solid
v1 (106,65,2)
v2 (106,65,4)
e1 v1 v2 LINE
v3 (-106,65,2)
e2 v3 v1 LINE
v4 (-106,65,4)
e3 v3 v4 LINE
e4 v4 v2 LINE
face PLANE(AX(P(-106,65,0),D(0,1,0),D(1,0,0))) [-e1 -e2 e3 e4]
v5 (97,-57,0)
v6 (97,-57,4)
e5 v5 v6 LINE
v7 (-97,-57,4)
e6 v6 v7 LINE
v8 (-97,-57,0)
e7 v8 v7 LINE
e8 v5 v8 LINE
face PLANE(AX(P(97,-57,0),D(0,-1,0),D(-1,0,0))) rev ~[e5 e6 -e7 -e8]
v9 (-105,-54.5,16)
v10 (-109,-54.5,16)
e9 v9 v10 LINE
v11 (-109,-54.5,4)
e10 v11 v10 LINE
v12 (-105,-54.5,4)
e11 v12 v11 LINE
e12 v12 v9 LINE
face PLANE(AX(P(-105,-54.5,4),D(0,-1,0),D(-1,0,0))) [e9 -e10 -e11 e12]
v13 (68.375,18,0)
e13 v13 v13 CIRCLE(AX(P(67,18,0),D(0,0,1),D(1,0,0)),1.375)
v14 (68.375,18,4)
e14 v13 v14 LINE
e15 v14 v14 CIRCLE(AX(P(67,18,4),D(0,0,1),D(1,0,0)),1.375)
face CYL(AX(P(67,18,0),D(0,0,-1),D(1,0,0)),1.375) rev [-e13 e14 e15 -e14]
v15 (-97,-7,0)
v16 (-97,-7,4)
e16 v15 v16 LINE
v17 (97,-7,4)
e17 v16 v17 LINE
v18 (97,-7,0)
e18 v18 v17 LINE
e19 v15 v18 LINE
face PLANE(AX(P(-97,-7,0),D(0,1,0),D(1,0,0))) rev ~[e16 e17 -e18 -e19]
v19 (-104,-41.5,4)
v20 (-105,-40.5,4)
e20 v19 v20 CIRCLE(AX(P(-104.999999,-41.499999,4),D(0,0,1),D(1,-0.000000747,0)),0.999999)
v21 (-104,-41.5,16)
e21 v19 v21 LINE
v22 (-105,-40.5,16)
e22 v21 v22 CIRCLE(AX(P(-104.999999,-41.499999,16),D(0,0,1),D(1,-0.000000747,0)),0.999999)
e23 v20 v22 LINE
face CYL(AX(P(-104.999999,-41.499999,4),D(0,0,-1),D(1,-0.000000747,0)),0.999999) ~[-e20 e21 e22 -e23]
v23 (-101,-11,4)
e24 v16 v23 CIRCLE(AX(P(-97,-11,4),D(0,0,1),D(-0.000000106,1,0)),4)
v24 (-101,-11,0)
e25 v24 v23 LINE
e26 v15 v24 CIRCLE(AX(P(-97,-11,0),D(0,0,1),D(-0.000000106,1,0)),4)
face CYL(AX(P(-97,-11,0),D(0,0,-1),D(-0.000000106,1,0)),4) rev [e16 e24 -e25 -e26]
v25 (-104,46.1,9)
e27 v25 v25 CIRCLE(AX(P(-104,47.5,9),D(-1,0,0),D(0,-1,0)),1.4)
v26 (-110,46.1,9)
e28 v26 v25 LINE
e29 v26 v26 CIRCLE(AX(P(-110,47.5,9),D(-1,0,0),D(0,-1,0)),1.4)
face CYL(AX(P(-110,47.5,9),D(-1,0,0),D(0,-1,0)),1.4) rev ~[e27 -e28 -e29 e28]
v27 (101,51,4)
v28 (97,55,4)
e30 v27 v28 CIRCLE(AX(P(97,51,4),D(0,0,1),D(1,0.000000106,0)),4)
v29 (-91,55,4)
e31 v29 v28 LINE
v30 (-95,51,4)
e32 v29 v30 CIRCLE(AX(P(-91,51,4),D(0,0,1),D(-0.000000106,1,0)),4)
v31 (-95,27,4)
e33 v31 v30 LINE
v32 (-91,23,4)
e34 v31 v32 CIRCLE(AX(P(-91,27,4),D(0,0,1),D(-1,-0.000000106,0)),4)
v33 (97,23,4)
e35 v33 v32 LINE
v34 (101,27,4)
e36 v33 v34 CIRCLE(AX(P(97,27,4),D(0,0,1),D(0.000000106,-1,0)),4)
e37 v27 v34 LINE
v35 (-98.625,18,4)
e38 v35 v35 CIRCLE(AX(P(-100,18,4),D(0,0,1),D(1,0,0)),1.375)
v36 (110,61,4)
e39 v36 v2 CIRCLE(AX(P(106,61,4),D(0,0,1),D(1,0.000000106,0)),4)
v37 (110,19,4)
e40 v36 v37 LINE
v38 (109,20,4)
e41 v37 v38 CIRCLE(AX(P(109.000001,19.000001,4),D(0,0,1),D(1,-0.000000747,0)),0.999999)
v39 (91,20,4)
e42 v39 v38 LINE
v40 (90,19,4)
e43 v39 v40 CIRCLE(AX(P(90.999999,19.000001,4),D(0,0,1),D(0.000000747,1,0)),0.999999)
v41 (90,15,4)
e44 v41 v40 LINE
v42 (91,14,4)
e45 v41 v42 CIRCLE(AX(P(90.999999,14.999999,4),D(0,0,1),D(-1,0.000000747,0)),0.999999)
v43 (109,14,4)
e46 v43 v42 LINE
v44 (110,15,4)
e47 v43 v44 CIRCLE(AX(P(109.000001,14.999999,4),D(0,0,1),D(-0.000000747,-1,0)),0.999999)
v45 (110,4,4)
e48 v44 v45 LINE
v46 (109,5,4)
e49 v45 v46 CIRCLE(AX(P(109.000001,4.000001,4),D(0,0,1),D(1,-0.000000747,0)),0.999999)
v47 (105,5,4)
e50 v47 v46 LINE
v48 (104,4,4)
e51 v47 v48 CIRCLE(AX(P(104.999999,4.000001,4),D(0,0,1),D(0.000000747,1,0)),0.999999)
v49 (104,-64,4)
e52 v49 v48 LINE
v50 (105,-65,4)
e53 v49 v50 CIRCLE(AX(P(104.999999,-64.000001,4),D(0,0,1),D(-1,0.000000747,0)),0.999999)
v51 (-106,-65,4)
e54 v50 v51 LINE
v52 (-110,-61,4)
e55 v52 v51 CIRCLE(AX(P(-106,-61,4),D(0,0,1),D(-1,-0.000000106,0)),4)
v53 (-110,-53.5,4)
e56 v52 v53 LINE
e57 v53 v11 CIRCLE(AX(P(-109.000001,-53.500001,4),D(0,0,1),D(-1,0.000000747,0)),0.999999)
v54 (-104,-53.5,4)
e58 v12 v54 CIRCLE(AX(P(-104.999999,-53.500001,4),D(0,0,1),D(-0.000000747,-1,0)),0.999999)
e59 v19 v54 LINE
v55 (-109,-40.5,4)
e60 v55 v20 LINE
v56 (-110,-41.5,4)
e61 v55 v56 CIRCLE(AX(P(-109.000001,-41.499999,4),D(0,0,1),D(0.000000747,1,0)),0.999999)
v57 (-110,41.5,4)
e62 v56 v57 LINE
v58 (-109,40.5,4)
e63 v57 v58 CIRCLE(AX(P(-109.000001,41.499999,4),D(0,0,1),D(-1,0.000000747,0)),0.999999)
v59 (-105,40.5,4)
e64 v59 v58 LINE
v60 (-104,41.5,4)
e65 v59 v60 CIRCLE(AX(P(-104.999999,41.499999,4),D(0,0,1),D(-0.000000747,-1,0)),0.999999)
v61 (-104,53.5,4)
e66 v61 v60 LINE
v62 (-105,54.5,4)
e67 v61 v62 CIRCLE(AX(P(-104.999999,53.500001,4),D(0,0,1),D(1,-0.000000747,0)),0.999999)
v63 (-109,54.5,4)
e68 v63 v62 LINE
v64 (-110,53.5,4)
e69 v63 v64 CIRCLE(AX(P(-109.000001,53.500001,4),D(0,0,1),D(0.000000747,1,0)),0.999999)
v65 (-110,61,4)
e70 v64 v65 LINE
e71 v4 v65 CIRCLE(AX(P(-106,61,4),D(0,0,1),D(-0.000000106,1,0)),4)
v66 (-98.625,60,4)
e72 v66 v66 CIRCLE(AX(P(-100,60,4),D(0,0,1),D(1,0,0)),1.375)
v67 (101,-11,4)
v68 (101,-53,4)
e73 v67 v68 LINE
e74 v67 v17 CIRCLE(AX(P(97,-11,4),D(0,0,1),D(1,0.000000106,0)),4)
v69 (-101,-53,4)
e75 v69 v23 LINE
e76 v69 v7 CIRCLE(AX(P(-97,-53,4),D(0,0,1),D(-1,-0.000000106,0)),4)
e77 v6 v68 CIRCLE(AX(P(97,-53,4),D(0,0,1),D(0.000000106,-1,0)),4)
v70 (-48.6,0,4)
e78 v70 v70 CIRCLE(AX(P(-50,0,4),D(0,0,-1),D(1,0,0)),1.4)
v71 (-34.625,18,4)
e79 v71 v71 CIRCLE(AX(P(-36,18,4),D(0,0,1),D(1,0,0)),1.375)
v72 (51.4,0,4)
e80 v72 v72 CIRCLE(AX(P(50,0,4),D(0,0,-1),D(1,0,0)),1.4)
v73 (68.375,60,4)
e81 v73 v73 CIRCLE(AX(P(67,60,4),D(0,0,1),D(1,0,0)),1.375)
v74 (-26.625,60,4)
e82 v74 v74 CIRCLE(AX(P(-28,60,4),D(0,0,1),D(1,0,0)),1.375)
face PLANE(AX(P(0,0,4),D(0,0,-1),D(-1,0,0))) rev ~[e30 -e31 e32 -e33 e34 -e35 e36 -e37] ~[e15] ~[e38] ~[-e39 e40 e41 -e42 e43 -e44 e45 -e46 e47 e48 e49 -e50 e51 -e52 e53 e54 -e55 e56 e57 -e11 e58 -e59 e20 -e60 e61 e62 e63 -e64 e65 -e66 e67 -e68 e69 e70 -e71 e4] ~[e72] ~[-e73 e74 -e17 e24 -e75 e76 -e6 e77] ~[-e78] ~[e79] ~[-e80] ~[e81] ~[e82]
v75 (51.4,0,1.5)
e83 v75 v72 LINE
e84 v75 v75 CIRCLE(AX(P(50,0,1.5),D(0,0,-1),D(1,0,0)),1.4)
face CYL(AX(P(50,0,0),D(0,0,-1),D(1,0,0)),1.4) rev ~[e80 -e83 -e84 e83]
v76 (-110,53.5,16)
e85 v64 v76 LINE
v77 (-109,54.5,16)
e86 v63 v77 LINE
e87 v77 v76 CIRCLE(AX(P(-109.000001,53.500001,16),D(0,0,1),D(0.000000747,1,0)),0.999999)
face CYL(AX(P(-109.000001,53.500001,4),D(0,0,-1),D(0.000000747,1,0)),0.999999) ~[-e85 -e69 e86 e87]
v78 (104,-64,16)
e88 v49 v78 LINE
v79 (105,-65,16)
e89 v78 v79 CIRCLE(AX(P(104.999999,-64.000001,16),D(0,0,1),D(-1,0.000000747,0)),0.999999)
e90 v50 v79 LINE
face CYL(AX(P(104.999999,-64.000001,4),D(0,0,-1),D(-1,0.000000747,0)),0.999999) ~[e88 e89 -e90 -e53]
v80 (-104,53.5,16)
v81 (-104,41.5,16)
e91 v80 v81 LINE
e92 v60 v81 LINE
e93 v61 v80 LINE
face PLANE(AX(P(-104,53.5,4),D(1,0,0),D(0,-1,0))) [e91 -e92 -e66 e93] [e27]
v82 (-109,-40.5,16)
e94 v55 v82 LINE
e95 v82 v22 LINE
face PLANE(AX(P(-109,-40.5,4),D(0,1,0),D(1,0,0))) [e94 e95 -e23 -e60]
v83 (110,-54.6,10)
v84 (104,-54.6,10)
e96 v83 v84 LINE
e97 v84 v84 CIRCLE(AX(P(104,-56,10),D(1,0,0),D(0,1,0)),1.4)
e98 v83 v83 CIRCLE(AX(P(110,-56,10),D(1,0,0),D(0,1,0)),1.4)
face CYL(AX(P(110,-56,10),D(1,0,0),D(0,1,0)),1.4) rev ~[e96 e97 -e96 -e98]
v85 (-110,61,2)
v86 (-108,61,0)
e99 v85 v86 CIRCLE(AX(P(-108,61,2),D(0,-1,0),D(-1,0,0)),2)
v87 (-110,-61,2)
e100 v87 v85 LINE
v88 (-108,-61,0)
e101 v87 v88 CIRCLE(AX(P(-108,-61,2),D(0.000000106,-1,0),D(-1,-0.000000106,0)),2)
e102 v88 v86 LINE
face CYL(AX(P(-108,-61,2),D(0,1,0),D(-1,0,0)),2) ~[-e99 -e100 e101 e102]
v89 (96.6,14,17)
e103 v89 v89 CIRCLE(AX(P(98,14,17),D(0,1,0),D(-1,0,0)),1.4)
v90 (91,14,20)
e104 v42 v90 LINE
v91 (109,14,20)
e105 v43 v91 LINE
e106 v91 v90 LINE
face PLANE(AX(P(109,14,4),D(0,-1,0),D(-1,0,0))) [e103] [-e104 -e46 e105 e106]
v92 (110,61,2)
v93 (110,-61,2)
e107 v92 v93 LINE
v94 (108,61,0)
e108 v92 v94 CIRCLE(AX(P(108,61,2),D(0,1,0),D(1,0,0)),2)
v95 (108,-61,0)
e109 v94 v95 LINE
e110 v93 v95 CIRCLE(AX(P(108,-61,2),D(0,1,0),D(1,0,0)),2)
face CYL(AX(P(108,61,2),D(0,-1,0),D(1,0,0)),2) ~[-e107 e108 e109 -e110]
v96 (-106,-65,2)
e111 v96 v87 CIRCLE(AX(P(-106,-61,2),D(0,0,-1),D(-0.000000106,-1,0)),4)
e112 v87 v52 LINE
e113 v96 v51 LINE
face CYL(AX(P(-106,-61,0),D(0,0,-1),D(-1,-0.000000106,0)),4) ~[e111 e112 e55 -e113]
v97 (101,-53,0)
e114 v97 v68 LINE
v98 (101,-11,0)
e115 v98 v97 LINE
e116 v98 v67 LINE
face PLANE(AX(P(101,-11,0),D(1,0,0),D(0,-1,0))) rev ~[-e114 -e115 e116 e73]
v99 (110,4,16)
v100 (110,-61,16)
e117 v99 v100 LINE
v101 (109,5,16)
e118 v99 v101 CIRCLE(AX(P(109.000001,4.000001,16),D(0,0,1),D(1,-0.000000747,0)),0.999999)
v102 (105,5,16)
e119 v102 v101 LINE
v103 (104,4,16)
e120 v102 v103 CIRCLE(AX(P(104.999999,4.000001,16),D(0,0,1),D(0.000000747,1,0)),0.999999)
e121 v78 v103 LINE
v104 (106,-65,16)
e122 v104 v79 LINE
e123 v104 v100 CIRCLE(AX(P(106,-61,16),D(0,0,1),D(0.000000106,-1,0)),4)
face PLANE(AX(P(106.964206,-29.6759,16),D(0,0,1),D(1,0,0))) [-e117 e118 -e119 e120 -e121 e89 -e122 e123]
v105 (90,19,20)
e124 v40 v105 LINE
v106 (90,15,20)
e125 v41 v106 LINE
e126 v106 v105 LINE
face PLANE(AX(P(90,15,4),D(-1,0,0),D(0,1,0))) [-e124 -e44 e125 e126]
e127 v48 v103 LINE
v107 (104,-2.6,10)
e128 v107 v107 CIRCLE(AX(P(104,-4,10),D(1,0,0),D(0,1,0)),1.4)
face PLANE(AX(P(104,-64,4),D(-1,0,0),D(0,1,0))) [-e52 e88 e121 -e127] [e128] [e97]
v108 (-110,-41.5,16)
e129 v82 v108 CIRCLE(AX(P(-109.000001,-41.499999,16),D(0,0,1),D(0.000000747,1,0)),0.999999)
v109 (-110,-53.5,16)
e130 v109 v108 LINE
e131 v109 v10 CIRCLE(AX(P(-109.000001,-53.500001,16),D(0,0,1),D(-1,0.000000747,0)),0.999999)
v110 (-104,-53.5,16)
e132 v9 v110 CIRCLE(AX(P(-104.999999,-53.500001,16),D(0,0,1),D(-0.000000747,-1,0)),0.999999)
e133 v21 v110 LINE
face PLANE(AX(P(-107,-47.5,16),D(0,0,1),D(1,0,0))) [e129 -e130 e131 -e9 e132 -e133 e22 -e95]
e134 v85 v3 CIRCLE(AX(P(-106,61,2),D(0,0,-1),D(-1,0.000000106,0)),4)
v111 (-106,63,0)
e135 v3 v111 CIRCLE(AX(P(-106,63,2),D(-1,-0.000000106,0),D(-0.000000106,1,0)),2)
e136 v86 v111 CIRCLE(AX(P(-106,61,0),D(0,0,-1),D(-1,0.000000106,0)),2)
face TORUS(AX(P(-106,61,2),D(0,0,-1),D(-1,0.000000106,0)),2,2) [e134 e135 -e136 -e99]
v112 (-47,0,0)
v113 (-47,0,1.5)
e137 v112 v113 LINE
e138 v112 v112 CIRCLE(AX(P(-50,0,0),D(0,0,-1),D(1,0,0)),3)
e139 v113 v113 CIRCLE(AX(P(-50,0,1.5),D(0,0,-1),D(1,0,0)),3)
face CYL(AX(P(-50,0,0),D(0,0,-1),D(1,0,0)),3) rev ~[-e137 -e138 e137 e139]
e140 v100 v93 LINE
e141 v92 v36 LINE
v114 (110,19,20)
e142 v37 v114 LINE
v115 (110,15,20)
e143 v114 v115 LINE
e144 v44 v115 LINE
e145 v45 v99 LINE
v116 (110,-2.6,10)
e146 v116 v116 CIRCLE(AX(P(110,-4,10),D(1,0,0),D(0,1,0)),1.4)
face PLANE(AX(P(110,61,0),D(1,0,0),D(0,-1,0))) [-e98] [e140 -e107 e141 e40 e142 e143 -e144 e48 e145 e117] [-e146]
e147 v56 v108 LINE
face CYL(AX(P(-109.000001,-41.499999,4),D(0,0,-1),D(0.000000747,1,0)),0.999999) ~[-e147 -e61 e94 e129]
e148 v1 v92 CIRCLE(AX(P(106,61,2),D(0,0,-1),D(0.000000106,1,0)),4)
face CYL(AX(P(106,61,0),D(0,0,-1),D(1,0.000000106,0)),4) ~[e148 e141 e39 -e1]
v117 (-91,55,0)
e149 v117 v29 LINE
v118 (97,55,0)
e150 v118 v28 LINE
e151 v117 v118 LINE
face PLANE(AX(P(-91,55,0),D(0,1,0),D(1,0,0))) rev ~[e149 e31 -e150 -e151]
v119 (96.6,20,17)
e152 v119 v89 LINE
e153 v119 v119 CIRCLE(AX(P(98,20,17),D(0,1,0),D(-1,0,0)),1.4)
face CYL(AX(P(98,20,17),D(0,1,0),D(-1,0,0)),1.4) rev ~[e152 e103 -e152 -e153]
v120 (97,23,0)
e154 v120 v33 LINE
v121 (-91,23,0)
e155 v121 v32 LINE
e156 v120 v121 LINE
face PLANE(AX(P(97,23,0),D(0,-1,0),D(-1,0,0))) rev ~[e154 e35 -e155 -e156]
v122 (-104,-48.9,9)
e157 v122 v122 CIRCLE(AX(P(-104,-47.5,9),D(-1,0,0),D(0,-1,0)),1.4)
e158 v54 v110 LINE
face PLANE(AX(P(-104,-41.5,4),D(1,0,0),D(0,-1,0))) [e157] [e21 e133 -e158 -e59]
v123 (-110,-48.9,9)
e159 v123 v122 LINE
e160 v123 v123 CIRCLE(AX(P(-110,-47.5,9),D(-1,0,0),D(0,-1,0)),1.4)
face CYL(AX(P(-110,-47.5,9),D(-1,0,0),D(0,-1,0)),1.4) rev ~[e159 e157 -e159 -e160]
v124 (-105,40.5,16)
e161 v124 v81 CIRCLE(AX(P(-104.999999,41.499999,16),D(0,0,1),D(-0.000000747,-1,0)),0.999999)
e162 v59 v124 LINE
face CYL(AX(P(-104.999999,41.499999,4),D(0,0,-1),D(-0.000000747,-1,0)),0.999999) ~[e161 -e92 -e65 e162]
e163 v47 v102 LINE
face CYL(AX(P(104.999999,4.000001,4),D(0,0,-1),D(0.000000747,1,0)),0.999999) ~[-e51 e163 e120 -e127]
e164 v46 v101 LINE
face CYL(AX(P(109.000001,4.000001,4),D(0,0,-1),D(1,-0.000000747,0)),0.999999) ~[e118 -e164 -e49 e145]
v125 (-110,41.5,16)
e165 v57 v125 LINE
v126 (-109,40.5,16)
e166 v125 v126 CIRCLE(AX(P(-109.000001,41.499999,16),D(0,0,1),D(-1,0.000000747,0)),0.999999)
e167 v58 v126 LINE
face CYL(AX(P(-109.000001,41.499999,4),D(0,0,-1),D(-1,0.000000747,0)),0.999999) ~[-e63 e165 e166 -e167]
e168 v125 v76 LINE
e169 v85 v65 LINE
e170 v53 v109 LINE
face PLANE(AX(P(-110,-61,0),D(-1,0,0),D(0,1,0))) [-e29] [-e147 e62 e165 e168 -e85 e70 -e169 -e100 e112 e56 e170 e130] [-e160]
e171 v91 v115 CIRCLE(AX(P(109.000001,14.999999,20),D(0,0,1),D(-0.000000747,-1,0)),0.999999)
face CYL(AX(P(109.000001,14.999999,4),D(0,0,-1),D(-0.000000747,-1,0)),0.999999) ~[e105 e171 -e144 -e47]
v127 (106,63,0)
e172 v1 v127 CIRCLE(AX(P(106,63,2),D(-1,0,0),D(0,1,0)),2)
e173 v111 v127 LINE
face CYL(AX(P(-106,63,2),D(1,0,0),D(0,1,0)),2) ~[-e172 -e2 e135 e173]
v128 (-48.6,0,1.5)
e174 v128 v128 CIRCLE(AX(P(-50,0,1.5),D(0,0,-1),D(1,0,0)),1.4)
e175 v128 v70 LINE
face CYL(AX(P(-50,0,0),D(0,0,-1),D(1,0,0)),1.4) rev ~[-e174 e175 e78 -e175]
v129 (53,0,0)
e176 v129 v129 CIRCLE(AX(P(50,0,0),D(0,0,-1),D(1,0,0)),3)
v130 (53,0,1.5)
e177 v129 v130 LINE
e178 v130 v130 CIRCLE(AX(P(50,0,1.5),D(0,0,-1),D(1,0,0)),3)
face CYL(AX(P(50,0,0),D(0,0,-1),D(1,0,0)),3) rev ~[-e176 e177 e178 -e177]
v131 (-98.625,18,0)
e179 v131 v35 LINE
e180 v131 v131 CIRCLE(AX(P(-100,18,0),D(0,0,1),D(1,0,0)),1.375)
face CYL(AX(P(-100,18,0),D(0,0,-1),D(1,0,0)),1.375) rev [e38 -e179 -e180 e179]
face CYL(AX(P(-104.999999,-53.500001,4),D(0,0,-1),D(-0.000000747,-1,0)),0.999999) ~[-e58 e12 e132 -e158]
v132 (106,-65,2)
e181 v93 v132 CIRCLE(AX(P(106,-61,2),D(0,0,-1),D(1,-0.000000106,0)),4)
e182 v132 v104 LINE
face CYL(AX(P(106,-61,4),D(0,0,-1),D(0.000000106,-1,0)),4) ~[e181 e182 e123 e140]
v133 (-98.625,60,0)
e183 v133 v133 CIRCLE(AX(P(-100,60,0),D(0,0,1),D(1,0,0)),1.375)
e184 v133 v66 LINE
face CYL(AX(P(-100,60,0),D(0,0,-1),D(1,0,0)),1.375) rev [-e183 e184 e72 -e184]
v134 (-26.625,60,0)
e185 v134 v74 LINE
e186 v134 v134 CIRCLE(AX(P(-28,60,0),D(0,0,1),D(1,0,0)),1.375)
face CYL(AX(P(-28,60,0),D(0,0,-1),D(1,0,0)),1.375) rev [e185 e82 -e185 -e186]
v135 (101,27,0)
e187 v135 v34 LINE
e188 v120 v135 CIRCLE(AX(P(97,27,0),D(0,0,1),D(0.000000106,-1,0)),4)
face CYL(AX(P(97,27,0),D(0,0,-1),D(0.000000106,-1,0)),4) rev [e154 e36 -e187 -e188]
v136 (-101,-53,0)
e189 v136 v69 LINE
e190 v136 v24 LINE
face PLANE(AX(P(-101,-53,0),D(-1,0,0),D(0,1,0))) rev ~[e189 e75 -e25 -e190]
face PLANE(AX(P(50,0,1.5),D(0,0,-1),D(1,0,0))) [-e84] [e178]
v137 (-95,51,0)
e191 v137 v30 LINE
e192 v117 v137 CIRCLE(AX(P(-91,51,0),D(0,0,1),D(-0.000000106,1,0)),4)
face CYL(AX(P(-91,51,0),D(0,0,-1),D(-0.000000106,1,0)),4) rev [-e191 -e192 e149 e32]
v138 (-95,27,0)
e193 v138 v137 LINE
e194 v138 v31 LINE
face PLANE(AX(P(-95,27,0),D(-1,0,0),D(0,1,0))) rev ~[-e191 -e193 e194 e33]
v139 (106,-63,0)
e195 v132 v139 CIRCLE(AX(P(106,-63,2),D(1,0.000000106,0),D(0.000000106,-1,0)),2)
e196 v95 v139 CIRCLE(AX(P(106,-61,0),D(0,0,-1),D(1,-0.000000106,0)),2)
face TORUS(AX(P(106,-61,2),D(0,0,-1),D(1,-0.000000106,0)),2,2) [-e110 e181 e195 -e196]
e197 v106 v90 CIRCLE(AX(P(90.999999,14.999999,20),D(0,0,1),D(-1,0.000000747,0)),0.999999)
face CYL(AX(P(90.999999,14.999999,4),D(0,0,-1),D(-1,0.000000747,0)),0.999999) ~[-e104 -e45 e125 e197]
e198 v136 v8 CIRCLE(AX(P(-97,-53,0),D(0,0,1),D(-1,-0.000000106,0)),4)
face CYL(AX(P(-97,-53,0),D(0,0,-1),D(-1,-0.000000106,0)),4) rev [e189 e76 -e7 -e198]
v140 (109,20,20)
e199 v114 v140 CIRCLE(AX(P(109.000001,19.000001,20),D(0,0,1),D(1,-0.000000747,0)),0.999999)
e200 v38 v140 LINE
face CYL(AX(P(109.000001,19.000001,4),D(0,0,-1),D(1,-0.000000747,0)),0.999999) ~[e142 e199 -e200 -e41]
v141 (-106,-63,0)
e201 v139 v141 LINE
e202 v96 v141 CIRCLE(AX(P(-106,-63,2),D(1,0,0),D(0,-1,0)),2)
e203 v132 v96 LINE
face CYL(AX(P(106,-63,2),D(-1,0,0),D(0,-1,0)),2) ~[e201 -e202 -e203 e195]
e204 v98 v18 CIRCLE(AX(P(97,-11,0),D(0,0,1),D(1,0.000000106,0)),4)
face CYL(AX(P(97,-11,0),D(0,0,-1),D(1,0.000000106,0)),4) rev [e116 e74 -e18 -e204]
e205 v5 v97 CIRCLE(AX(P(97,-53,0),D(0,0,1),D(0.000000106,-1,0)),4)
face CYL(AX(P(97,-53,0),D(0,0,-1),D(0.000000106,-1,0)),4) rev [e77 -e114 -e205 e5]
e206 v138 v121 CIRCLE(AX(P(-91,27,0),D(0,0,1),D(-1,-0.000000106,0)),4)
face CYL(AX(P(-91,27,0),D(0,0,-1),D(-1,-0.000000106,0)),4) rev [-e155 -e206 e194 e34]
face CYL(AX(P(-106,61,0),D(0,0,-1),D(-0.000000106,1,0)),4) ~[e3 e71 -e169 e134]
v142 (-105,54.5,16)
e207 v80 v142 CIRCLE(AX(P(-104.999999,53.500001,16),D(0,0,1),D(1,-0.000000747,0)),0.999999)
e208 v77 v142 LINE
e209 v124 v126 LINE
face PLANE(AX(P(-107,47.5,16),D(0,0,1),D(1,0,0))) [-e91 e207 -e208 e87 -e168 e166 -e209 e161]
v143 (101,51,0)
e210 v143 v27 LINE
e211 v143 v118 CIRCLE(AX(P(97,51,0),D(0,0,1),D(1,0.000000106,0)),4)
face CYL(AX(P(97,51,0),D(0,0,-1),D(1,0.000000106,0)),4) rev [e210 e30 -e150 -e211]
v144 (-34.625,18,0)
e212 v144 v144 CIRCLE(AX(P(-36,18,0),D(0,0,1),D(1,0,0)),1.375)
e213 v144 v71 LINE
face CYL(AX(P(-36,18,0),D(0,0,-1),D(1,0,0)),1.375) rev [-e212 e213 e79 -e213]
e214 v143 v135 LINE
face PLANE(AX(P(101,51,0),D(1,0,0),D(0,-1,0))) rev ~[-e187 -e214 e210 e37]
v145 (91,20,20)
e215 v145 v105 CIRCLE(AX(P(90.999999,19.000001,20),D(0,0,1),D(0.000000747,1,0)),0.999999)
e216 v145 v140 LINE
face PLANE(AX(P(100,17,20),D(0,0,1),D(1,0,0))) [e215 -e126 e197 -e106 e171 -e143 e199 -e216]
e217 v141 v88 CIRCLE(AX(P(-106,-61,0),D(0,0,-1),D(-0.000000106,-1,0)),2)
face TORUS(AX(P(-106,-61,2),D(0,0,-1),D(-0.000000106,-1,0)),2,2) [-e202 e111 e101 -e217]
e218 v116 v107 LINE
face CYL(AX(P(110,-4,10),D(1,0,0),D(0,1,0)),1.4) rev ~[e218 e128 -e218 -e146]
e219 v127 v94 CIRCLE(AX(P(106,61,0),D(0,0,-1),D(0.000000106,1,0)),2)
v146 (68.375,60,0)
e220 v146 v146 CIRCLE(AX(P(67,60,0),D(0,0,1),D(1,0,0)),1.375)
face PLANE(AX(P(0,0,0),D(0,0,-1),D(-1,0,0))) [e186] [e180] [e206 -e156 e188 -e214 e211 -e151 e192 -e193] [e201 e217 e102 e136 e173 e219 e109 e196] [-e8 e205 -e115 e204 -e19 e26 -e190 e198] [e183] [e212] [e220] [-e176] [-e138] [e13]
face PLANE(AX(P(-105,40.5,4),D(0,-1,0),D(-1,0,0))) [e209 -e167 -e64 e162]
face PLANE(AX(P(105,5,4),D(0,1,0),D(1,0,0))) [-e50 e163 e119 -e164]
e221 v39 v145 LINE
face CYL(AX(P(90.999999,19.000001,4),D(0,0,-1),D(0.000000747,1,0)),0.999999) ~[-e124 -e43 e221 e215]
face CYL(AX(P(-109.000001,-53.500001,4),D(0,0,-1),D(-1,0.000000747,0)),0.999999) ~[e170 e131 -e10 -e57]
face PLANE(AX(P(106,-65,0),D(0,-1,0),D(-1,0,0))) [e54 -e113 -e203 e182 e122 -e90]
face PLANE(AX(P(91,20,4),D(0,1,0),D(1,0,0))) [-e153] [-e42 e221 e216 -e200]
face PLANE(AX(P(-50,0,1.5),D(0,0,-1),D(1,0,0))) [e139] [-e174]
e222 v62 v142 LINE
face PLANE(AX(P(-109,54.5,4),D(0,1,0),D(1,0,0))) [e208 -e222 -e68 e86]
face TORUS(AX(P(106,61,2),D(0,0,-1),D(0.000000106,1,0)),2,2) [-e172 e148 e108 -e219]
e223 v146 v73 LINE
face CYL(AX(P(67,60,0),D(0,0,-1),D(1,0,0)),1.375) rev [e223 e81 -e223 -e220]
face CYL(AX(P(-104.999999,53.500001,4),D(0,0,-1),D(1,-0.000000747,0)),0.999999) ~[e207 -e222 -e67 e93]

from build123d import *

# Parameters (mm, degrees)
SKETCH_R        = 1.375
PAD_DEPTH       = 4
PAD001_DEPTH    = 12
SKETCH002_R     = 1.4
POCKET_DEPTH    = 8
SKETCH003_R     = 1.4
POCKET001_DEPTH = 8
FILLET_R        = 2
SKETCH004_R     = 3
POCKET002_DEPTH = 1.5
SKETCH005_R     = 1.4
POCKET003_DEPTH = 5
PAD002_DEPTH    = 16
SKETCH007_R     = 1.4
POCKET004_DEPTH = 8


with BuildPart() as part:
    # Sketch → Pad (new body)
    with BuildSketch(Plane.XY):
        with BuildLine():
            Line((-106, 65), (106, 65))
            ThreePointArc((110, 61), (108.828427, 63.828427), (106, 65))
            Line((110, 61), (110, -61))
            ThreePointArc((106, -65), (108.828427, -63.828427), (110, -61))
            Line((106, -65), (-106, -65))
            ThreePointArc((-110, -61), (-108.828427, -63.828427), (-106, -65))
            Line((-110, -61), (-110, 61))
            ThreePointArc((-106, 65), (-108.828427, 63.828427), (-110, 61))
        make_face()
        with Locations((-100, 60)):
            Circle(SKETCH_R, mode=Mode.SUBTRACT)
        with Locations((-28, 60)):
            Circle(SKETCH_R, mode=Mode.SUBTRACT)
        with Locations((67, 60)):
            Circle(SKETCH_R, mode=Mode.SUBTRACT)
        with Locations((67, 18)):
            Circle(SKETCH_R, mode=Mode.SUBTRACT)
        with Locations((-36, 18)):
            Circle(SKETCH_R, mode=Mode.SUBTRACT)
        with Locations((-100, 18)):
            Circle(SKETCH_R, mode=Mode.SUBTRACT)
        with BuildLine():
            ThreePointArc((-97, -7), (-99.828427, -8.171573), (-101, -11))
            Line((-101, -53), (-101, -11))
            ThreePointArc((-101, -53), (-99.828427, -55.828427), (-97, -57))
            Line((97, -57), (-97, -57))
            ThreePointArc((97, -57), (99.828427, -55.828427), (101, -53))
            Line((101, -11), (101, -53))
            ThreePointArc((101, -11), (99.828427, -8.171573), (97, -7))
            Line((-97, -7), (97, -7))
        make_face(mode=Mode.SUBTRACT)
        with BuildLine():
            ThreePointArc((-91, 55), (-93.828427, 53.828427), (-95, 51))
            Line((-95, 27), (-95, 51))
            ThreePointArc((-95, 27), (-93.828427, 24.171573), (-91, 23))
            Line((97, 23), (-91, 23))
            ThreePointArc((97, 23), (99.828427, 24.171573), (101, 27))
            Line((101, 51), (101, 27))
            ThreePointArc((101, 51), (99.828427, 53.828427), (97, 55))
            Line((-91, 55), (97, 55))
        make_face(mode=Mode.SUBTRACT)
    extrude(amount=PAD_DEPTH)

    # Sketch001 (on Face32 of Pad) → Pad001 (join)
    with BuildSketch(Plane.XY.offset(4)):
        with BuildLine():
            ThreePointArc((-109, 54.5), (-109.707107, 54.207107), (-110, 53.5))
            Line((-110, 41.5), (-110, 53.5))
            ThreePointArc((-110, 41.5), (-109.707107, 40.792893), (-109, 40.5))
            Line((-105, 40.5), (-109, 40.5))
            ThreePointArc((-105, 40.5), (-104.292893, 40.792893), (-104, 41.5))
            Line((-104, 53.5), (-104, 41.5))
            ThreePointArc((-104, 53.5), (-104.292893, 54.207107), (-105, 54.5))
            Line((-109, 54.5), (-105, 54.5))
        make_face()
        with BuildLine():
            ThreePointArc((-109, -40.5), (-109.707107, -40.792893), (-110, -41.5))
            Line((-110, -53.5), (-110, -41.5))
            ThreePointArc((-110, -53.5), (-109.707107, -54.207107), (-109, -54.5))
            Line((-105, -54.5), (-109, -54.5))
            ThreePointArc((-105, -54.5), (-104.292893, -54.207107), (-104, -53.5))
            Line((-104, -41.5), (-104, -53.5))
            ThreePointArc((-104, -41.5), (-104.292893, -40.792893), (-105, -40.5))
            Line((-109, -40.5), (-105, -40.5))
        make_face()
        with BuildLine():
            ThreePointArc((105, 5), (104.292893, 4.707107), (104, 4))
            Line((104, -64), (104, 4))
            ThreePointArc((104, -64), (104.292893, -64.707107), (105, -65))
            Line((106, -65), (105, -65))
            ThreePointArc((106, -65), (108.828427, -63.828427), (110, -61))
            Line((110, 4), (110, -61))
            ThreePointArc((110, 4), (109.707107, 4.707107), (109, 5))
            Line((105, 5), (109, 5))
        make_face()
    extrude(amount=PAD001_DEPTH)

    # Sketch002 (on Face7 of Pad001) → Pocket (cut)
    with BuildSketch(Plane(origin=(-110, 0, 0), x_dir=(0, -1, 0), z_dir=(-1, 0, 0))):
        with Locations((-47.5, 9)):
            Circle(SKETCH002_R)
        with Locations((47.5, 9)):
            Circle(SKETCH002_R)
    extrude(amount=-POCKET_DEPTH, mode=Mode.SUBTRACT)

    # Sketch003 (on Face59 of Pocket) → Pocket001 (cut)
    with BuildSketch(Plane.YZ.offset(110)):
        with Locations((-56, 10)):
            Circle(SKETCH003_R)
        with Locations((-4, 10)):
            Circle(SKETCH003_R)
    extrude(amount=-POCKET001_DEPTH, mode=Mode.SUBTRACT)

    # Fillet
    fillet_edges = [part.edges().sort_by_distance(p)[0] for p in [
        (110, 0, 0),
    ]]
    fillet(fillet_edges, radius=FILLET_R)

    # Sketch004 (on Face10 of Fillet) → Pocket002 (cut)
    with BuildSketch(Plane(origin=(0, 0, 0), x_dir=(1, 0, 0), z_dir=(0, 0, -1))):
        with Locations((-50, 0)):
            Circle(SKETCH004_R)
        with Locations((50, 0)):
            Circle(SKETCH004_R)
    extrude(amount=-POCKET002_DEPTH, mode=Mode.SUBTRACT)

    # Sketch005 (on Face10 of Pocket002) → Pocket003 (cut)
    with BuildSketch(Plane(origin=(0, 0, 0), x_dir=(1, 0, 0), z_dir=(0, 0, -1))):
        with Locations((-50, 0)):
            Circle(SKETCH005_R)
        with Locations((50, 0)):
            Circle(SKETCH005_R)
    extrude(amount=-POCKET003_DEPTH, mode=Mode.SUBTRACT)

    # Sketch006 (on Face4 of Pocket003) → Pad002 (join)
    with BuildSketch(Plane.XY.offset(4)):
        with BuildLine():
            ThreePointArc((109, 14), (109.707107, 14.292893), (110, 15))
            Line((110, 19), (110, 15))
            ThreePointArc((110, 19), (109.707107, 19.707107), (109, 20))
            Line((91, 20), (109, 20))
            ThreePointArc((91, 20), (90.292893, 19.707107), (90, 19))
            Line((90, 15), (90, 19))
            ThreePointArc((90, 15), (90.292893, 14.292893), (91, 14))
            Line((109, 14), (91, 14))
        make_face()
    extrude(amount=PAD002_DEPTH)

    # Sketch007 (on Face30 of Pad002) → Pocket004 (cut)
    with BuildSketch(Plane(origin=(0, 20, 0), x_dir=(-1, 0, 0), z_dir=(0, 1, 0))):
        with Locations((-98, 17)):
            Circle(SKETCH007_R)
    extrude(amount=-POCKET004_DEPTH, mode=Mode.SUBTRACT)


solid = part.part
